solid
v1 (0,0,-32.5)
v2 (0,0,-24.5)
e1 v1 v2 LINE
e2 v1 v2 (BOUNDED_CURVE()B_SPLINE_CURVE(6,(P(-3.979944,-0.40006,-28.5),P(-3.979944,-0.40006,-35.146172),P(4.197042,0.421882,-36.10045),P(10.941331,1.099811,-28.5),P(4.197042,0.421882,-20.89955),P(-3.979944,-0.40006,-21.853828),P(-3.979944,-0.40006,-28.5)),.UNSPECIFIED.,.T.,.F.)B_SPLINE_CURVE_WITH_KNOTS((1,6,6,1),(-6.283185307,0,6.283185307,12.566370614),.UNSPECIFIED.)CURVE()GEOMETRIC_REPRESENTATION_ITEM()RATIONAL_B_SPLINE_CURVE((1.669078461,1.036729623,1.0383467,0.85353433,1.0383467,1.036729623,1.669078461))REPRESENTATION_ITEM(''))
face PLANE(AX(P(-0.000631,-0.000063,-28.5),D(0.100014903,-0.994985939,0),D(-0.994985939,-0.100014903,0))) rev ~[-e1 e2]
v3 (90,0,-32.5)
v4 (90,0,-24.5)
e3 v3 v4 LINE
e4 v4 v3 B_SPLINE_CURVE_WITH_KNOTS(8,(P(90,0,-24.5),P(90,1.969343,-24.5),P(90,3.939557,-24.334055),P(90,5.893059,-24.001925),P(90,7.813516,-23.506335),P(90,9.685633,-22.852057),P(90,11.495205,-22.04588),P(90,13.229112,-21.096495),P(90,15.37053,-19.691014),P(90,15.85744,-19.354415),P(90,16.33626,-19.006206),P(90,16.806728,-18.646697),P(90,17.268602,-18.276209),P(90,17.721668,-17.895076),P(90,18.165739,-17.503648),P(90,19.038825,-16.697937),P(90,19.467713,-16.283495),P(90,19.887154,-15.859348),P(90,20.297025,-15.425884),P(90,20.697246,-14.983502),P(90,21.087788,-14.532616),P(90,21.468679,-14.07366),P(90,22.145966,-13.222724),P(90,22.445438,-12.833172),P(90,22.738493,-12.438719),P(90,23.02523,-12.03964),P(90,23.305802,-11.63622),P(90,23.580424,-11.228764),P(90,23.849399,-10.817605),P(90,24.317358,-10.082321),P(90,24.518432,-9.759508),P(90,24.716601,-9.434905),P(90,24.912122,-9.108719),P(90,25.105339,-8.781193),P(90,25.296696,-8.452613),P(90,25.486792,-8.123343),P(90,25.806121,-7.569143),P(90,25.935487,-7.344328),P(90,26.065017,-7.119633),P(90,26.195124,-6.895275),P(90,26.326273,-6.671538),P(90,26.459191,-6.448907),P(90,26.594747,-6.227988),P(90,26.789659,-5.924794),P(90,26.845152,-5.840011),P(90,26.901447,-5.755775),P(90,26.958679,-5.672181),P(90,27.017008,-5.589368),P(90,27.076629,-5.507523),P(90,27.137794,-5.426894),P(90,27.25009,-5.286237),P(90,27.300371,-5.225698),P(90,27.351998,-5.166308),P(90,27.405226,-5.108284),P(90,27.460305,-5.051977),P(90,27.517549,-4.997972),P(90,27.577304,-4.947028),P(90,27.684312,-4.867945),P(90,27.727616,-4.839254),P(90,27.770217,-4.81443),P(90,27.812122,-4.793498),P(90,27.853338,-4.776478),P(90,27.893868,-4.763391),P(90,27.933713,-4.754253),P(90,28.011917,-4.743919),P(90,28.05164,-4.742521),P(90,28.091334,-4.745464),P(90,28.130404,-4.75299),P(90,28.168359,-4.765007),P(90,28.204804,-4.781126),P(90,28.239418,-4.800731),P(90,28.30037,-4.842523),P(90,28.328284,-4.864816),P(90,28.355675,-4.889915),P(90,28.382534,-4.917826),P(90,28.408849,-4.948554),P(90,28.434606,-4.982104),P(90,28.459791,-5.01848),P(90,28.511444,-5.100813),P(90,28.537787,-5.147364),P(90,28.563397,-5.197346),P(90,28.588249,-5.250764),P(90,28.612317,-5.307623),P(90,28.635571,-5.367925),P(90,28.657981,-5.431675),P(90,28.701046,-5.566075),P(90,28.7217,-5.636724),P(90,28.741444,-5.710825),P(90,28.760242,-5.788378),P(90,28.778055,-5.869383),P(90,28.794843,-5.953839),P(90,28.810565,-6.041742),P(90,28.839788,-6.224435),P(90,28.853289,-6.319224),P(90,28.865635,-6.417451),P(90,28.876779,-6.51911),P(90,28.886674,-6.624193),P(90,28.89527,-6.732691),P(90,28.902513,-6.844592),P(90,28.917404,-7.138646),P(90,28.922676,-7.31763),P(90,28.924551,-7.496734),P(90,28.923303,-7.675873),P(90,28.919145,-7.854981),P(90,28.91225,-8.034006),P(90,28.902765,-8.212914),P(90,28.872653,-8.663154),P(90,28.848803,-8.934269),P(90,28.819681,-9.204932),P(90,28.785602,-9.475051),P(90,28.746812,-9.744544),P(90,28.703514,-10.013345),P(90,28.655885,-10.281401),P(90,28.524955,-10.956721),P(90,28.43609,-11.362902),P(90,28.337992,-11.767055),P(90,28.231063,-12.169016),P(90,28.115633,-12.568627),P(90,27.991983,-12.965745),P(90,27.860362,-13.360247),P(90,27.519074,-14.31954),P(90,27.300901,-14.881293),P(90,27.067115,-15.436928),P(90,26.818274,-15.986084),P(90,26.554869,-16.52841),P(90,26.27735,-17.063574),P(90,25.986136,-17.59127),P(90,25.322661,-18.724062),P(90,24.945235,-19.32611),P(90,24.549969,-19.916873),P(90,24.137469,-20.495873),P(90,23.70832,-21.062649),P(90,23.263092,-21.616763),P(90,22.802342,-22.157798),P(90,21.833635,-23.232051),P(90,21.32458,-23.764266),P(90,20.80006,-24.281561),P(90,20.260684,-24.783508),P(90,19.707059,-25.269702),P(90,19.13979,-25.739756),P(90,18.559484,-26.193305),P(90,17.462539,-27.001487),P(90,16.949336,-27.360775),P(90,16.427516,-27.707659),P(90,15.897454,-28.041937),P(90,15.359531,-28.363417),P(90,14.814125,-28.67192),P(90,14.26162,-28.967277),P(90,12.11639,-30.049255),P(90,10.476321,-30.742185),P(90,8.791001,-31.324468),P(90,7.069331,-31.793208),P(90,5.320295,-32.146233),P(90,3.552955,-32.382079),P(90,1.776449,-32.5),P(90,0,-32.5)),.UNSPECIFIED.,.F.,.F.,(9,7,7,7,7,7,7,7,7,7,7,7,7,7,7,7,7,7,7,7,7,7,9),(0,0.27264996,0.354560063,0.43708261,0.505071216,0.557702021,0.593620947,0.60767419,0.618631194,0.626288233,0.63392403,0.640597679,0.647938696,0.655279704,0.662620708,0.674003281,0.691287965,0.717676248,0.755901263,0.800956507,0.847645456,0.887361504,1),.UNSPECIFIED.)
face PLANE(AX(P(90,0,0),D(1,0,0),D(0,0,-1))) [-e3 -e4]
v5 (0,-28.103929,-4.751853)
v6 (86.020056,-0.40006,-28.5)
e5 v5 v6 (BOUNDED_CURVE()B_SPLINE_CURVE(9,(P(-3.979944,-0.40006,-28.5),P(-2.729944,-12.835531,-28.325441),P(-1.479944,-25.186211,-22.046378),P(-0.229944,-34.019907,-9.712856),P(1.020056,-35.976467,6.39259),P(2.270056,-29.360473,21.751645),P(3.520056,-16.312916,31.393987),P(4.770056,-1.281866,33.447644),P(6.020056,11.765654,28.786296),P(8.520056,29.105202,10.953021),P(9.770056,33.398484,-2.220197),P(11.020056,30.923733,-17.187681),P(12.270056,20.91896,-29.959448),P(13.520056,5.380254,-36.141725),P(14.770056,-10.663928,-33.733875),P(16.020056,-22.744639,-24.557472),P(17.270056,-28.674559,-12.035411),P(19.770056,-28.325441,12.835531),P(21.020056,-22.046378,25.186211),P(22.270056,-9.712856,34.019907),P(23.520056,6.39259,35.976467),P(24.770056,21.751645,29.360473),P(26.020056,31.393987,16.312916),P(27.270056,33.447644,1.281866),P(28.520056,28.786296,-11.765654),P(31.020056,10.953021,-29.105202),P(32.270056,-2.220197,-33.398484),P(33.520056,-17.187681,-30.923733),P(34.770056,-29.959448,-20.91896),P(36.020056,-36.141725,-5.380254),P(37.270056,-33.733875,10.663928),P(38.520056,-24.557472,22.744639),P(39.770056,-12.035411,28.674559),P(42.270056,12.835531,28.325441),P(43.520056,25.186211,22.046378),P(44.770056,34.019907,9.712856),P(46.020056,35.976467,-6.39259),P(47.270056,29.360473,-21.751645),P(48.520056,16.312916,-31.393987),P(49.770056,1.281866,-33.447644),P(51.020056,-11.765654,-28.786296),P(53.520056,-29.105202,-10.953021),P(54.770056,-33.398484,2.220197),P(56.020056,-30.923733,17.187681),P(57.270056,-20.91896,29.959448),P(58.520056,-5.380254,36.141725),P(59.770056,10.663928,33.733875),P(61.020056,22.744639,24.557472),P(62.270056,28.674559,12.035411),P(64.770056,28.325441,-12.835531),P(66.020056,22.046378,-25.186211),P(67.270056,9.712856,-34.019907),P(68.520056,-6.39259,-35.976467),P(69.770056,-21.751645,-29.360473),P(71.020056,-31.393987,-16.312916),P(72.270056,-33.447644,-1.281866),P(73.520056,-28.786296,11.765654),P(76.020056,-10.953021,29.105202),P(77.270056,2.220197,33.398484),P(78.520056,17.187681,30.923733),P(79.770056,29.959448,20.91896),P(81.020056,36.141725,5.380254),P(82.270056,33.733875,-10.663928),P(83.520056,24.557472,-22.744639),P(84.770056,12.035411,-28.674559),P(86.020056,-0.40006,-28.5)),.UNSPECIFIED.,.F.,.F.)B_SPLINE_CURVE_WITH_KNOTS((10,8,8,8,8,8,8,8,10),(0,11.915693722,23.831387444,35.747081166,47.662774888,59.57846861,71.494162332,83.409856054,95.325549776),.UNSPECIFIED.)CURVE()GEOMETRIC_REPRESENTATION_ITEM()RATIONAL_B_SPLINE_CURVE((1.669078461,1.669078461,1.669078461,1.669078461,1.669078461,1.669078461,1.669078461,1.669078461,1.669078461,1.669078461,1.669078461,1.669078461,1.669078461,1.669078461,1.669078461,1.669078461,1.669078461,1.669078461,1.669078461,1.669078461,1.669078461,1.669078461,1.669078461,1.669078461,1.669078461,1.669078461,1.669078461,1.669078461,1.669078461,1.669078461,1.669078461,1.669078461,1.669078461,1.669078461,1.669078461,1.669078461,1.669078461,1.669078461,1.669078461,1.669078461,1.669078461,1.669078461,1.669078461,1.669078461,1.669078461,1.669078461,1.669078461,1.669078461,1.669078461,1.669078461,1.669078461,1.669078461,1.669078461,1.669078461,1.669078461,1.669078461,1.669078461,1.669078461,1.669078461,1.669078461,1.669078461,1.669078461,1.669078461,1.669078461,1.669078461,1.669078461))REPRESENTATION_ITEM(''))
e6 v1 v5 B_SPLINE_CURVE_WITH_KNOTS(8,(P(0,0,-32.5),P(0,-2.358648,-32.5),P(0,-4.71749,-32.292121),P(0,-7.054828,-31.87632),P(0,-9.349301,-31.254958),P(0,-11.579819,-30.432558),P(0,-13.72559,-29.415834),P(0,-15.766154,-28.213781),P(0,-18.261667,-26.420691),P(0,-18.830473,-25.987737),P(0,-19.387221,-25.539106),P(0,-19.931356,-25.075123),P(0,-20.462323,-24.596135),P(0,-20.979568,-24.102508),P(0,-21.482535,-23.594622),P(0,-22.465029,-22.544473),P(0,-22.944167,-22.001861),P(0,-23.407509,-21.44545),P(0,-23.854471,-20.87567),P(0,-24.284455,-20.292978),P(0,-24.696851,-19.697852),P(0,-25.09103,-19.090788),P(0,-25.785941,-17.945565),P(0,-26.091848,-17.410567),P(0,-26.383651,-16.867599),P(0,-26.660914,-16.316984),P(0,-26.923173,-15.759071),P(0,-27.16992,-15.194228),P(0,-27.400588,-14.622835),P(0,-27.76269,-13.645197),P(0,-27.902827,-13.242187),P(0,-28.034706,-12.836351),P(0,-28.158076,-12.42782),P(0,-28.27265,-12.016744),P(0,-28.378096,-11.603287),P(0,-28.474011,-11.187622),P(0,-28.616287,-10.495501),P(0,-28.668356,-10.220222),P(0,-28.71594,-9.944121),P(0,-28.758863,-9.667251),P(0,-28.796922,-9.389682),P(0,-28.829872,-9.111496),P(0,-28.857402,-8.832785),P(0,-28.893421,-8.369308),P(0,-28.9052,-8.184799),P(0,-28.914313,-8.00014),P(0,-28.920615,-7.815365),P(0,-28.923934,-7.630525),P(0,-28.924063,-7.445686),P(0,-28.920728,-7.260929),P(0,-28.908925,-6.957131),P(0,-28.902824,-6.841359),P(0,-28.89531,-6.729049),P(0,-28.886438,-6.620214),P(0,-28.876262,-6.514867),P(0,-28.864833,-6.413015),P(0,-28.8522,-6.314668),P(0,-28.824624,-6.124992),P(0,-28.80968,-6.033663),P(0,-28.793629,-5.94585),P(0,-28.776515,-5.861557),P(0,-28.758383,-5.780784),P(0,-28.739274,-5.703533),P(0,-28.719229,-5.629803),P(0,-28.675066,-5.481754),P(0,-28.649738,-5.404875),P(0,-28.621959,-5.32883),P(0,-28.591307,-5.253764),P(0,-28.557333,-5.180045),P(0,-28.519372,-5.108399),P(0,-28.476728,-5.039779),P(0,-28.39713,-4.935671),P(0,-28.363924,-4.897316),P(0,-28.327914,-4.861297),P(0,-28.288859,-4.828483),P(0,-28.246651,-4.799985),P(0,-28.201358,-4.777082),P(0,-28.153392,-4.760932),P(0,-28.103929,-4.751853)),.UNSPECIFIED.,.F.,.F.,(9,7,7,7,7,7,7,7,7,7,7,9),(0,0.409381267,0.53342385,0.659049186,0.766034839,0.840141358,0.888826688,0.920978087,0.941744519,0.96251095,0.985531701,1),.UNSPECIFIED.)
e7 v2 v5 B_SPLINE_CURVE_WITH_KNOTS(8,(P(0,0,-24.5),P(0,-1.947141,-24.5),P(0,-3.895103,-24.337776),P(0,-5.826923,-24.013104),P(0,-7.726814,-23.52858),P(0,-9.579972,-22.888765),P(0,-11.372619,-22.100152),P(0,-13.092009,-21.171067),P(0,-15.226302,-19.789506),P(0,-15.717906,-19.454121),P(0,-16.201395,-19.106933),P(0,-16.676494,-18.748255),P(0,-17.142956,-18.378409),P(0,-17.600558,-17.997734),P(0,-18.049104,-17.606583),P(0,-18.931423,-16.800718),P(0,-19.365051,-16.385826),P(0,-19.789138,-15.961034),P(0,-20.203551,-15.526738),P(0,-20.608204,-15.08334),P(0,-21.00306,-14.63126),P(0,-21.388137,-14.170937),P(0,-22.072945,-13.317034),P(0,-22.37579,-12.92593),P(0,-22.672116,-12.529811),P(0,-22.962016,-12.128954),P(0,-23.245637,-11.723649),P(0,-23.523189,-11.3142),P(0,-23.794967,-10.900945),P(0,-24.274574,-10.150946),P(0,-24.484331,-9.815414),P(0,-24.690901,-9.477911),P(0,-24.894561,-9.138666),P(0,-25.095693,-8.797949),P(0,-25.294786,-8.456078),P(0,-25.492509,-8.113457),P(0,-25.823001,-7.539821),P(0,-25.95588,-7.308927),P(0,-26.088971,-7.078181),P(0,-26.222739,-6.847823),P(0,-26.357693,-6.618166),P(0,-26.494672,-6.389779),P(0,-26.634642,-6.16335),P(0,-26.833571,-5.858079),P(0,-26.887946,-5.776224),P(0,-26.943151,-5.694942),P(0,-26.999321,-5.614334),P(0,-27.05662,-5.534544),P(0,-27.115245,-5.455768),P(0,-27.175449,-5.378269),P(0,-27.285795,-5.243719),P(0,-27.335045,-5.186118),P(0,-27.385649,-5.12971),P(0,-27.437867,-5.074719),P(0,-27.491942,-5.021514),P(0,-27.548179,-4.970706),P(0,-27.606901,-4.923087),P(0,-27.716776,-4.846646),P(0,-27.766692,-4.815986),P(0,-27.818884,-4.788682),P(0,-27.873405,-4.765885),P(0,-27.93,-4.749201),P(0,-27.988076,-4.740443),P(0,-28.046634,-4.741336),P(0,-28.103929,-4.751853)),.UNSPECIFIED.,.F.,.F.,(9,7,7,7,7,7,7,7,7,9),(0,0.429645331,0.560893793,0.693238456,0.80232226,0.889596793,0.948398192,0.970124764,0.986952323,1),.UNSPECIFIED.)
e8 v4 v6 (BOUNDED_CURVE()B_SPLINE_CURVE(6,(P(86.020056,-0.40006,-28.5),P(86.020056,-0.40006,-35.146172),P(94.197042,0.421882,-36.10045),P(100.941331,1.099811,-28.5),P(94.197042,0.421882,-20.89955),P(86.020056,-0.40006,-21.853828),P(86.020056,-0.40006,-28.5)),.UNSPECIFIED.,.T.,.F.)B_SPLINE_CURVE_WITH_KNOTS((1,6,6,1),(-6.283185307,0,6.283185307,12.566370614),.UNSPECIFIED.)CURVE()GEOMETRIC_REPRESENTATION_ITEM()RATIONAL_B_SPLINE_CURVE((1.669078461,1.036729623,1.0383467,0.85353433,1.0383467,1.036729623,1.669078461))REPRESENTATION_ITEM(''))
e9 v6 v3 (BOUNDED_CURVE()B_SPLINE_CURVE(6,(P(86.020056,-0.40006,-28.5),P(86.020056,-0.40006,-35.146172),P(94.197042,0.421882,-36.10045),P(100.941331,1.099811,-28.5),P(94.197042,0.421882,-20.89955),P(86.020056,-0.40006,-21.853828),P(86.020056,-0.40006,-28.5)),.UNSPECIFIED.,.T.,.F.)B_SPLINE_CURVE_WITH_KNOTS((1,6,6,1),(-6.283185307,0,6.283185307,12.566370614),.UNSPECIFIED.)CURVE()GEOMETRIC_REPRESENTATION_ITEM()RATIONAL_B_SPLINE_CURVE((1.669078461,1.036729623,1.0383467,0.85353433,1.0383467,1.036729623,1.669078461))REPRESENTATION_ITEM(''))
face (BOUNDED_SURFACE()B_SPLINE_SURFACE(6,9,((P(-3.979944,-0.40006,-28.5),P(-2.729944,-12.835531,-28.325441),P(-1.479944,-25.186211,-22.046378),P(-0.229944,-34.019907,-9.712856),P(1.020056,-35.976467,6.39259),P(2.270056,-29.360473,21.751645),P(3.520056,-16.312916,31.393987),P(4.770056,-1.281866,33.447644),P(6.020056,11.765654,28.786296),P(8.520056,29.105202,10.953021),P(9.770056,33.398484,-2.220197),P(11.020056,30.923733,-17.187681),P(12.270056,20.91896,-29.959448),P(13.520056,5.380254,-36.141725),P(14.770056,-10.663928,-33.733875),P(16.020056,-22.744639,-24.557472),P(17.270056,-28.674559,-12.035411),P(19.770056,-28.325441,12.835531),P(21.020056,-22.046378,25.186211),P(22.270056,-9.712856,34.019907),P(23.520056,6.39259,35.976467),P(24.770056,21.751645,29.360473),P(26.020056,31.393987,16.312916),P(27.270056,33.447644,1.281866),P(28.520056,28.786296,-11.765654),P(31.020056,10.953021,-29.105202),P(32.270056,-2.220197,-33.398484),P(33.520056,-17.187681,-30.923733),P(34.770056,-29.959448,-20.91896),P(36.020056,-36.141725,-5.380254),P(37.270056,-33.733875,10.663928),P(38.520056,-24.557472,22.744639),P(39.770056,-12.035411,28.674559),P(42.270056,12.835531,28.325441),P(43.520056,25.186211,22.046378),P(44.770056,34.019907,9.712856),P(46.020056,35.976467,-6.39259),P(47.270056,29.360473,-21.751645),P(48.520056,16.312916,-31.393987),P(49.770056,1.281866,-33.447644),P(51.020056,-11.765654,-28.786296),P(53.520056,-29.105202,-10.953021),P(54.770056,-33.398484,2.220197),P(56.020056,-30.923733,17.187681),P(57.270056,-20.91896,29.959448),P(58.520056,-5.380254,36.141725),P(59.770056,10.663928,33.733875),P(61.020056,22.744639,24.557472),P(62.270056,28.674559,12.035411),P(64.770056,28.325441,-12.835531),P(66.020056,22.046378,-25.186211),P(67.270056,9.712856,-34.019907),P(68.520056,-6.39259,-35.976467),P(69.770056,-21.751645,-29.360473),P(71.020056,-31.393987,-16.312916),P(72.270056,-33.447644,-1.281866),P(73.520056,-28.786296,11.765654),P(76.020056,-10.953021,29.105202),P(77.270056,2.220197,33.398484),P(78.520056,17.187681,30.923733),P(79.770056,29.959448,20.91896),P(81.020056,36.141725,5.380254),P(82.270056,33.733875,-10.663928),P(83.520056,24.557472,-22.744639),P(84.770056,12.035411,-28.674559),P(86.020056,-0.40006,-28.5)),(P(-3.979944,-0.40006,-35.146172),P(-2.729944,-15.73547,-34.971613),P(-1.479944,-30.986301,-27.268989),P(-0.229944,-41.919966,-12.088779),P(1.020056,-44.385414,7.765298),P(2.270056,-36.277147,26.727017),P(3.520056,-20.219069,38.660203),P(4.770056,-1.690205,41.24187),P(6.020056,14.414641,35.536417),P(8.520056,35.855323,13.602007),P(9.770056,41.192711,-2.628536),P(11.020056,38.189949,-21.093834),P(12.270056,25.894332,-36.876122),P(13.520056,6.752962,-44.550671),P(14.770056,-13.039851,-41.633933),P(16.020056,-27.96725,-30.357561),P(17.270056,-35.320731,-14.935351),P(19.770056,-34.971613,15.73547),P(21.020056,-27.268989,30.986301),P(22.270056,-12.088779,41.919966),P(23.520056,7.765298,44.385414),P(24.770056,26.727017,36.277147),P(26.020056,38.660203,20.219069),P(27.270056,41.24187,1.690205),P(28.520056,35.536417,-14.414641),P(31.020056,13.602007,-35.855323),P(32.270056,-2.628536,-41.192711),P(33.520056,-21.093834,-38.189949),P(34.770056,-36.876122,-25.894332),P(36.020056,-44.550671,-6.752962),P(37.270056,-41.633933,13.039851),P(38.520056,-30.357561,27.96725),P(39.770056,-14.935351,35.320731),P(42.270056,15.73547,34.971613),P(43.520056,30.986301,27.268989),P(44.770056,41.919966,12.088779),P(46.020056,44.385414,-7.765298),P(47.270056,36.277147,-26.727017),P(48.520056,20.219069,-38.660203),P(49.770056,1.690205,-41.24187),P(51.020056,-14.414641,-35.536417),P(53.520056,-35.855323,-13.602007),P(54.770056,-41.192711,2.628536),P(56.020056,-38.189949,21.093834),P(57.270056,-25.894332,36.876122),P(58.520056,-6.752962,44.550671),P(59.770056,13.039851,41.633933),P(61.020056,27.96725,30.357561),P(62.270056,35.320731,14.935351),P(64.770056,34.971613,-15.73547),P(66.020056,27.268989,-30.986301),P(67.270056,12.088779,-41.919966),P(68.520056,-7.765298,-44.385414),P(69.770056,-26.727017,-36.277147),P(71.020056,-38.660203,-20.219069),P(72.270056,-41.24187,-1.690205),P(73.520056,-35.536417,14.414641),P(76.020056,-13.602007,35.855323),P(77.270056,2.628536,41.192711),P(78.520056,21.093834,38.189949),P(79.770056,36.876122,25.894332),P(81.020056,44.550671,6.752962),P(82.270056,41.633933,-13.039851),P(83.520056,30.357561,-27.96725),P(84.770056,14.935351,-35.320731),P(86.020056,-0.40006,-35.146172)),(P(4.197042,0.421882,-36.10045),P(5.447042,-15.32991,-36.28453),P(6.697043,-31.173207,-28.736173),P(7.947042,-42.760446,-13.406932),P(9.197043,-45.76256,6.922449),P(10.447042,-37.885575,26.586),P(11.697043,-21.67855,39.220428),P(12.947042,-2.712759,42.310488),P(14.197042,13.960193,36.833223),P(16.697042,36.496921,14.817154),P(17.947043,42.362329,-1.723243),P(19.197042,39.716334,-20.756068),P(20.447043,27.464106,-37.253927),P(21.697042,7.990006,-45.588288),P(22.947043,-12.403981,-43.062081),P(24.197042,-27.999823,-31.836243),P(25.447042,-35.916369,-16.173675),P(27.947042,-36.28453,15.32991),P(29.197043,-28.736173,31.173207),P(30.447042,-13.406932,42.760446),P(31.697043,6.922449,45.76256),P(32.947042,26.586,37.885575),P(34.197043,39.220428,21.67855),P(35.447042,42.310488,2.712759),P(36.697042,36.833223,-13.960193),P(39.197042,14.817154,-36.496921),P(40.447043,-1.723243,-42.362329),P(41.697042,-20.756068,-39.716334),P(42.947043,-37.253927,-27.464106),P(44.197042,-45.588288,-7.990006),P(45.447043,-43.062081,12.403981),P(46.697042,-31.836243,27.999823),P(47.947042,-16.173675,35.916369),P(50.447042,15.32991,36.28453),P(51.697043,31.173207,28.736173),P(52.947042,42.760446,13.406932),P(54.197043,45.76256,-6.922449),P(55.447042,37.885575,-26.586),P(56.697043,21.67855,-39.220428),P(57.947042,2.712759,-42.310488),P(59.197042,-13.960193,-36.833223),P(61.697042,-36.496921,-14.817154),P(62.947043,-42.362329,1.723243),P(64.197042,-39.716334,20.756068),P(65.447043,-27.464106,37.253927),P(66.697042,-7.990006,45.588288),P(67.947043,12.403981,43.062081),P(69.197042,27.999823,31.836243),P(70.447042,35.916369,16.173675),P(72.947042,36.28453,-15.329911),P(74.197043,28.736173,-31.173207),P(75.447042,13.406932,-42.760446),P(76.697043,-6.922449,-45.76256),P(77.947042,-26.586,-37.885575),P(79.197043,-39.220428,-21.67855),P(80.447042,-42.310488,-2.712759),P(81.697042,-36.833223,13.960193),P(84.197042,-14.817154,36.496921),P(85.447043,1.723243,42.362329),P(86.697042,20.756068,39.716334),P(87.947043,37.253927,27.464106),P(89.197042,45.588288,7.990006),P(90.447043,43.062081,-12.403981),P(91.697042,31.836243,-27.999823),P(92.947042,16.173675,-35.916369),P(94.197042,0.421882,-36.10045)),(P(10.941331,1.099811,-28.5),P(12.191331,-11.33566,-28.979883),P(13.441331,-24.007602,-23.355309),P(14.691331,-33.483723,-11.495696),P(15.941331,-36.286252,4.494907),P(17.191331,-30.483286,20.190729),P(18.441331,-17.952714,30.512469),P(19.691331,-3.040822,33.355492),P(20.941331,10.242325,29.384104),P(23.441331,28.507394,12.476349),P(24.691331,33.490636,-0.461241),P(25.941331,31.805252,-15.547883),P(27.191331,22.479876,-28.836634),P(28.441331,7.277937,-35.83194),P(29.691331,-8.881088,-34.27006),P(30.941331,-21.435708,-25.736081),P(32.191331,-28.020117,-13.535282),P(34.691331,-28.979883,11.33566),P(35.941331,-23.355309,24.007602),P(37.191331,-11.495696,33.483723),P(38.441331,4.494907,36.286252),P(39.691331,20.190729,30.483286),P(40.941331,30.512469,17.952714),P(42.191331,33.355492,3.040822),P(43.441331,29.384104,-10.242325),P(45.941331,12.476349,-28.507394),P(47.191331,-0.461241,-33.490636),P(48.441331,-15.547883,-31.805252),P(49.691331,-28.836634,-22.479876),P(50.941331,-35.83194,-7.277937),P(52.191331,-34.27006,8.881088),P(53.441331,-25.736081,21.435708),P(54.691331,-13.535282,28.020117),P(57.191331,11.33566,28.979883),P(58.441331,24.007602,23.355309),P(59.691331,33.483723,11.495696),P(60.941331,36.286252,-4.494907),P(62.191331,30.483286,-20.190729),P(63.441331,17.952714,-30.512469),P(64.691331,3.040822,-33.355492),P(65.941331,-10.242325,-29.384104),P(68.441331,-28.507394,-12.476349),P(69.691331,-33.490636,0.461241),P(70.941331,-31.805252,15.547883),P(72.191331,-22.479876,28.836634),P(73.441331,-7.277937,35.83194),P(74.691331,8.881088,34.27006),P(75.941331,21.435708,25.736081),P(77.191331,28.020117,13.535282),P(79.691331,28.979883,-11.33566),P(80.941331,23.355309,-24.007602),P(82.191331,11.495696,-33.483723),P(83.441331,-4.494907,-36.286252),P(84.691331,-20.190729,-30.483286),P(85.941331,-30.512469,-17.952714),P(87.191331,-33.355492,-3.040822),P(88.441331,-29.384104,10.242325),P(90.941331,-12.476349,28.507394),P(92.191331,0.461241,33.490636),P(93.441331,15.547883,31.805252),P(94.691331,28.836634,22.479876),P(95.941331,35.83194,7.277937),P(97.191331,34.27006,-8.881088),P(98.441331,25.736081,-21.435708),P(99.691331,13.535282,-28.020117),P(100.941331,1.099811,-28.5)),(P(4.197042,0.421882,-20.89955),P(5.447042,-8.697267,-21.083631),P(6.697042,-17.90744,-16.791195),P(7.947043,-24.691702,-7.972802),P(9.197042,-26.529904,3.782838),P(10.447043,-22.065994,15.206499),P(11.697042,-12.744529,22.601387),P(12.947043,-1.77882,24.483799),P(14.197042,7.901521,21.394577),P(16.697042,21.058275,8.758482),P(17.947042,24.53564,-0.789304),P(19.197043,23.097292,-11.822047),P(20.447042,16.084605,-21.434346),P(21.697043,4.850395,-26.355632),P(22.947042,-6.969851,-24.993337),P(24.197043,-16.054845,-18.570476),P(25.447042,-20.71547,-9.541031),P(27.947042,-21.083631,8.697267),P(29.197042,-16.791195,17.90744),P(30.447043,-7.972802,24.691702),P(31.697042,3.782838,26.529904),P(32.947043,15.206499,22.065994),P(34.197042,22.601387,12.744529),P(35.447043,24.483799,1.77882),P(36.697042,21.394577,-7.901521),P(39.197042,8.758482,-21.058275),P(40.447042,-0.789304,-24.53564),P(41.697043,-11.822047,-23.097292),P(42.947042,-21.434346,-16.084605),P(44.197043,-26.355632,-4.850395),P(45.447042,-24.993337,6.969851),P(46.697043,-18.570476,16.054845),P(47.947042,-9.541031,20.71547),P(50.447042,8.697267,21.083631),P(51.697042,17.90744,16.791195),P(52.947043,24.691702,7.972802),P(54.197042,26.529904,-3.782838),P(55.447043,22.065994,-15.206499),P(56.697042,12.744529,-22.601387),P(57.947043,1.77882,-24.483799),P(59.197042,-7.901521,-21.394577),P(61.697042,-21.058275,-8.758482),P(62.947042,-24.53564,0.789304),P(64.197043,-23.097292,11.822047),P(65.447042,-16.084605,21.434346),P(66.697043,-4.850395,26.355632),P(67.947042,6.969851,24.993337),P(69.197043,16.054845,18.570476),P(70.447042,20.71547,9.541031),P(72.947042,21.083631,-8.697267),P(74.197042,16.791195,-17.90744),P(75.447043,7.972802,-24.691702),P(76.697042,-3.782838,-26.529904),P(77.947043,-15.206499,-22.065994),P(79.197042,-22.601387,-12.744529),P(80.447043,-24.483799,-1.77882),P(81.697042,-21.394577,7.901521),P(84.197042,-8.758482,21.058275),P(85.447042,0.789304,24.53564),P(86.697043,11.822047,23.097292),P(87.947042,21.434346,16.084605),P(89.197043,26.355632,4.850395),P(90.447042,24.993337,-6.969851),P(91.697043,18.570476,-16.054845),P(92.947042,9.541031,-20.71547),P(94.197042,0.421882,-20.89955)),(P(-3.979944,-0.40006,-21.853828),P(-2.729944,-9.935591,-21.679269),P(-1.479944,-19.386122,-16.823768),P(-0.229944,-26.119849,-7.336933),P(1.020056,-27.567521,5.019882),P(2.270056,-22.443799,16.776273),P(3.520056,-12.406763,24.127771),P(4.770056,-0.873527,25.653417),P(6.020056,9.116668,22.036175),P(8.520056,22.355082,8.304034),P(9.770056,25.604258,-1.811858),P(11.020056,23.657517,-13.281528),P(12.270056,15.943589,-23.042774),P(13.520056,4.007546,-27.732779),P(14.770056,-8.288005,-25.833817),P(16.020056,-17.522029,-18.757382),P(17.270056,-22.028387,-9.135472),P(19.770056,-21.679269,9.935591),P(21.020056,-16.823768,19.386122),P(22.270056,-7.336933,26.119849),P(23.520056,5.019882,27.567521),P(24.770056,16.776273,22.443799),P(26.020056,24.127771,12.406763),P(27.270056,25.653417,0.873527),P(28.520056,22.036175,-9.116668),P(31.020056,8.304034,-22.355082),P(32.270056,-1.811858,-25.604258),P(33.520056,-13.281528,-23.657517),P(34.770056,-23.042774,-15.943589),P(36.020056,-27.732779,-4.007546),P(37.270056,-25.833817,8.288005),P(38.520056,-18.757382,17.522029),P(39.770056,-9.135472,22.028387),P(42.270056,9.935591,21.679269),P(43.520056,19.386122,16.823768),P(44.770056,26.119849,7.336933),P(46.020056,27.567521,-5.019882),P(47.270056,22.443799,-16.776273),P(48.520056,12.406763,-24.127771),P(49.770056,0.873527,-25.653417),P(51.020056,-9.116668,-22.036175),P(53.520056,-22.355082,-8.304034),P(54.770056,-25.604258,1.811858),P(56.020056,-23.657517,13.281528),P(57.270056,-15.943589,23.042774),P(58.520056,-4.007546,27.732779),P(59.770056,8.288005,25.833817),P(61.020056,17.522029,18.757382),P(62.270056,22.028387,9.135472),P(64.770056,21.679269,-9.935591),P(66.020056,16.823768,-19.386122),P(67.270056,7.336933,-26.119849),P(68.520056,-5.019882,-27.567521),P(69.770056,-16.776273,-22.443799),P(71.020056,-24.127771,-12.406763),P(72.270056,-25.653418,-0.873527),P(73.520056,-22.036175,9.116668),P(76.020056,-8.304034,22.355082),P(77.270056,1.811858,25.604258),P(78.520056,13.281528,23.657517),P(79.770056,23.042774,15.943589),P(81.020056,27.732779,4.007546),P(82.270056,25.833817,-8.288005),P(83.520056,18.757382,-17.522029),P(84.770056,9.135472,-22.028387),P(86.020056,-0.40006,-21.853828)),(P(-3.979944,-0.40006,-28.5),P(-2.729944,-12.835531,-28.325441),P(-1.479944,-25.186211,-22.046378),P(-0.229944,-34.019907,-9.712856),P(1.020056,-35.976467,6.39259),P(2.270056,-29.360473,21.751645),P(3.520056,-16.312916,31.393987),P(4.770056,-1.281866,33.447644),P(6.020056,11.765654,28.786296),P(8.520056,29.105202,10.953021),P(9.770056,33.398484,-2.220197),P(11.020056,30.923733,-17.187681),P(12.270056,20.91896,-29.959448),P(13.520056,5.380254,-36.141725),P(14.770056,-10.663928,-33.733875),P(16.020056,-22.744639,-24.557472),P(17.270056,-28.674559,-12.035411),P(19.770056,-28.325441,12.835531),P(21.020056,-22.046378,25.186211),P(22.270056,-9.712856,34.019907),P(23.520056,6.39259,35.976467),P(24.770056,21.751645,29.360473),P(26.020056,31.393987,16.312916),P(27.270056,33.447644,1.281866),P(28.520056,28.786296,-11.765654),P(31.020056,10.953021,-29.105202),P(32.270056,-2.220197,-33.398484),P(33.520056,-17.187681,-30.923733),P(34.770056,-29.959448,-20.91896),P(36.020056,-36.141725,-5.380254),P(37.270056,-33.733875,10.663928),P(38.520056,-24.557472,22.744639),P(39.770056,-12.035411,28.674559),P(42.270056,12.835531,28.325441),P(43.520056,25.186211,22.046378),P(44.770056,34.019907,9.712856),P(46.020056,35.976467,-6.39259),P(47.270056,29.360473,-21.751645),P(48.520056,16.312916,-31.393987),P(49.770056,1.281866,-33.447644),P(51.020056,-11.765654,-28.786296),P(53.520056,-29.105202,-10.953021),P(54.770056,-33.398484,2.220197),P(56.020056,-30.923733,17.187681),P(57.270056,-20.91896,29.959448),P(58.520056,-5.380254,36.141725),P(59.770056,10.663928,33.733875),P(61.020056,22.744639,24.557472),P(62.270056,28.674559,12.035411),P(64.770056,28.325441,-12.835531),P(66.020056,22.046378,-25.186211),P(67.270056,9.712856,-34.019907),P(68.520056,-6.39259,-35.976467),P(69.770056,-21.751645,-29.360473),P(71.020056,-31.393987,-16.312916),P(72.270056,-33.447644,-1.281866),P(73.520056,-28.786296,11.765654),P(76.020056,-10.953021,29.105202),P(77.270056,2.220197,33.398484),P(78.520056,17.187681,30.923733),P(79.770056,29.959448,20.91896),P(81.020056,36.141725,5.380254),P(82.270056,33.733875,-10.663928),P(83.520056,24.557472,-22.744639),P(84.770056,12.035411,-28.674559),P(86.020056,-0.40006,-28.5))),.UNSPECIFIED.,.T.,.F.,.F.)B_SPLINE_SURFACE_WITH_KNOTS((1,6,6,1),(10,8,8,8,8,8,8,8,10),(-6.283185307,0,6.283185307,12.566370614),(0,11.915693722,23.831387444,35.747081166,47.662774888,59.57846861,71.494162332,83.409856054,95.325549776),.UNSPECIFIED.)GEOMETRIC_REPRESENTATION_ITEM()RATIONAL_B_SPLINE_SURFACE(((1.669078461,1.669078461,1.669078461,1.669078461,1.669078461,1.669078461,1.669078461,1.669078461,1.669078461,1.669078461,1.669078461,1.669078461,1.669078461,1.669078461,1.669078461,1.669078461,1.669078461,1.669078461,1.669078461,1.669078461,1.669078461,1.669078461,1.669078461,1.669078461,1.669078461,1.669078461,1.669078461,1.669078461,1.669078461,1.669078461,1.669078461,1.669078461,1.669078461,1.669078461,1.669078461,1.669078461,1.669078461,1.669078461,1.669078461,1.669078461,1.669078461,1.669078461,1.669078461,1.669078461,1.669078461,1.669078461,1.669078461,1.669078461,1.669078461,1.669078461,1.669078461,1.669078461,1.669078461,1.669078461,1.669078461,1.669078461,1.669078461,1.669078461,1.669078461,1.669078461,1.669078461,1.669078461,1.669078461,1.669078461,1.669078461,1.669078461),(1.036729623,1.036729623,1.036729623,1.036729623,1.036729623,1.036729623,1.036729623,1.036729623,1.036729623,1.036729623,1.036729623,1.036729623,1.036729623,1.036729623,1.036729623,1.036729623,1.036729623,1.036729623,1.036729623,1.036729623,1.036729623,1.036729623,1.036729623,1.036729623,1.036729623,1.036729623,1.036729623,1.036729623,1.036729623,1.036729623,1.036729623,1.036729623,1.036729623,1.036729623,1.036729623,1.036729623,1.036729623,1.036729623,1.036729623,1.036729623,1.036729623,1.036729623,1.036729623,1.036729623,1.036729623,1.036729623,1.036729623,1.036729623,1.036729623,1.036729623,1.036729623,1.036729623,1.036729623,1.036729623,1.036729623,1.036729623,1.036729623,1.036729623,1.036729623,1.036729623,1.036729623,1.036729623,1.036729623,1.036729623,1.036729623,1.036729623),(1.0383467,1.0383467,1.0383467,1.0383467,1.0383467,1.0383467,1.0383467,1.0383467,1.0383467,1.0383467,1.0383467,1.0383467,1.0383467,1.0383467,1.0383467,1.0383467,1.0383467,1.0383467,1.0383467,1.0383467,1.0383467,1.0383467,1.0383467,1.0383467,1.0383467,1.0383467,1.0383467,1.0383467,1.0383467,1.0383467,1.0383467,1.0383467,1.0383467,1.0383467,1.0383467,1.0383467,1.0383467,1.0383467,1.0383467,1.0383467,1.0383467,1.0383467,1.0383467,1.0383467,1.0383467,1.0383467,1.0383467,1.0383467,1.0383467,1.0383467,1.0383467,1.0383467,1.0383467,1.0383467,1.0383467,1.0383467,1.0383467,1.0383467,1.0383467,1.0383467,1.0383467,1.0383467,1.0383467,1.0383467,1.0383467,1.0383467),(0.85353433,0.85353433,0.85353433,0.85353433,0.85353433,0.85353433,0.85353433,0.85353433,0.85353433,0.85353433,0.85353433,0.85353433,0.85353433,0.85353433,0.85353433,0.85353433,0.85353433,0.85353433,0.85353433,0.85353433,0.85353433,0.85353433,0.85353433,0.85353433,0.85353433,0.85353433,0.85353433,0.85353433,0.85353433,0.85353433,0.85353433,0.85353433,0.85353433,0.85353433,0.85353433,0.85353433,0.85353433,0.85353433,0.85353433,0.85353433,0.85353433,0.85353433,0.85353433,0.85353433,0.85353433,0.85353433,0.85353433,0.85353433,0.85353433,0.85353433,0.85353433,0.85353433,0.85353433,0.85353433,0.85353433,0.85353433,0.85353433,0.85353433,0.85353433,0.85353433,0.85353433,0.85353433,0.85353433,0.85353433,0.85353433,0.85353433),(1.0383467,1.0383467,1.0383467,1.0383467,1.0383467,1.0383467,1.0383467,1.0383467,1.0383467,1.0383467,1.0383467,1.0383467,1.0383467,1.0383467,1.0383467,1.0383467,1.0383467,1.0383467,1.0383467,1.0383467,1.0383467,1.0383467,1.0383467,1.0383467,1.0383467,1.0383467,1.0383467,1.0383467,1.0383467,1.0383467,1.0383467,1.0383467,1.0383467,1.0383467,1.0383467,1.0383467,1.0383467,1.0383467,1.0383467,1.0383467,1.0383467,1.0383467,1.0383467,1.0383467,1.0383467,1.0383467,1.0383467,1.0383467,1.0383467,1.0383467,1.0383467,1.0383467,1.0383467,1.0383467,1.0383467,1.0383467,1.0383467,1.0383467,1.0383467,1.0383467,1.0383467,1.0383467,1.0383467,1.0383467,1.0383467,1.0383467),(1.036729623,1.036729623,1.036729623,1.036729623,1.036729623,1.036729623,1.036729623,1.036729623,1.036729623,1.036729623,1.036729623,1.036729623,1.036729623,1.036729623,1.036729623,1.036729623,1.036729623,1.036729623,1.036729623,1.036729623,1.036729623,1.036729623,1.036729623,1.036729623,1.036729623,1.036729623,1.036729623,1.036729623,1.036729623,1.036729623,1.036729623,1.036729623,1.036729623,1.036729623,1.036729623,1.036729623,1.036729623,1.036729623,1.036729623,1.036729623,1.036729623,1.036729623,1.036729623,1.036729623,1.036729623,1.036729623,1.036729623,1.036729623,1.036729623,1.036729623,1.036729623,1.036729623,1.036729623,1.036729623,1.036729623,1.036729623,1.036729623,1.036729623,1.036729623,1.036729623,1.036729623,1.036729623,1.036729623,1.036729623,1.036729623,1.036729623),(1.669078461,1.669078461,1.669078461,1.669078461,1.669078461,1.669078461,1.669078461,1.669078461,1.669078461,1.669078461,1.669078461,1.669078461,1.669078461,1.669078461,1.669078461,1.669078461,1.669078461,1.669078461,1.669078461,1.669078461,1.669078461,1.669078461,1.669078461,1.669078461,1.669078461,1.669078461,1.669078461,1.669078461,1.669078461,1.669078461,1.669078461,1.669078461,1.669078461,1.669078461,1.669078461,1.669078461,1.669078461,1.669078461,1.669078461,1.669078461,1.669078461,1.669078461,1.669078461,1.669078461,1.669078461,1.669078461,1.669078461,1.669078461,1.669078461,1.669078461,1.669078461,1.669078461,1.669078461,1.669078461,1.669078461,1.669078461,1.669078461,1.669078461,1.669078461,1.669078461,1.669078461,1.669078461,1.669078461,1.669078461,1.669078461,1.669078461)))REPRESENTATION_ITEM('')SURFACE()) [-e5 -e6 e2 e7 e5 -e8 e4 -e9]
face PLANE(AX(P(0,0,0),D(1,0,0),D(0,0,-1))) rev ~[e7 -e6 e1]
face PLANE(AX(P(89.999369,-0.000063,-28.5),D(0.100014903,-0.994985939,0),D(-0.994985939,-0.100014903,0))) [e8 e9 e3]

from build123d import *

# Parameters (mm, degrees)
SWEEP_1_PITCH       = 18
SWEEP_1_HEIGHT      = 90
SWEEP_1_RADIUS      = 28.5
SWEEP_1_START_ANGLE = 180
SWEEP_1_PROFILE_R   = 4
SKETCH_3_W          = 78.192103194
SKETCH_3_H          = 87.894164892
CUT_EXTRUDE_1_DEPTH = 4.979943857
SKETCH_4_W          = 82.593175774
SKETCH_4_H          = 82.860467604
CUT_EXTRUDE_2_DEPTH = 4.979943857


with BuildPart() as part:
    # По траектории1: sweep along a helix
    with BuildLine() as sweep_1_path:
        add(Helix(SWEEP_1_PITCH, SWEEP_1_HEIGHT, SWEEP_1_RADIUS, center=(0, 0, 0), direction=(1, 0, 0), lefthand=True, mode=Mode.PRIVATE).rotate(Axis((0, 0, 0), (1, 0, 0)), SWEEP_1_START_ANGLE))
    # По траектории1 profile (on start of the path) → По траектории1 (sweep)
    with BuildSketch(Plane(origin=(0, 0, -28.5), x_dir=(-0.994985939, -0.100014903, 0), z_dir=(0.100014903, -0.994985939, 0))):
        Circle(SWEEP_1_PROFILE_R)
    sweep(path=sweep_1_path.line, is_frenet=True)

    # Эскиз3 → Вырез-Вытянуть1 (cut, through all)
    with BuildSketch(Plane(origin=(0, 0, 0), x_dir=(0, 0, -1), z_dir=(1, 0, 0))):
        Rectangle(SKETCH_3_W, SKETCH_3_H)
    extrude(amount=-CUT_EXTRUDE_1_DEPTH, mode=Mode.SUBTRACT)

    # Эскиз4 → Вырез-Вытянуть2 (cut, through all)
    with BuildSketch(Plane(origin=(90, 0, 0), x_dir=(0, 0, -1), z_dir=(1, 0, 0))):
        Rectangle(SKETCH_4_W, SKETCH_4_H)
    extrude(amount=CUT_EXTRUDE_2_DEPTH, mode=Mode.SUBTRACT)


solid = part.part
